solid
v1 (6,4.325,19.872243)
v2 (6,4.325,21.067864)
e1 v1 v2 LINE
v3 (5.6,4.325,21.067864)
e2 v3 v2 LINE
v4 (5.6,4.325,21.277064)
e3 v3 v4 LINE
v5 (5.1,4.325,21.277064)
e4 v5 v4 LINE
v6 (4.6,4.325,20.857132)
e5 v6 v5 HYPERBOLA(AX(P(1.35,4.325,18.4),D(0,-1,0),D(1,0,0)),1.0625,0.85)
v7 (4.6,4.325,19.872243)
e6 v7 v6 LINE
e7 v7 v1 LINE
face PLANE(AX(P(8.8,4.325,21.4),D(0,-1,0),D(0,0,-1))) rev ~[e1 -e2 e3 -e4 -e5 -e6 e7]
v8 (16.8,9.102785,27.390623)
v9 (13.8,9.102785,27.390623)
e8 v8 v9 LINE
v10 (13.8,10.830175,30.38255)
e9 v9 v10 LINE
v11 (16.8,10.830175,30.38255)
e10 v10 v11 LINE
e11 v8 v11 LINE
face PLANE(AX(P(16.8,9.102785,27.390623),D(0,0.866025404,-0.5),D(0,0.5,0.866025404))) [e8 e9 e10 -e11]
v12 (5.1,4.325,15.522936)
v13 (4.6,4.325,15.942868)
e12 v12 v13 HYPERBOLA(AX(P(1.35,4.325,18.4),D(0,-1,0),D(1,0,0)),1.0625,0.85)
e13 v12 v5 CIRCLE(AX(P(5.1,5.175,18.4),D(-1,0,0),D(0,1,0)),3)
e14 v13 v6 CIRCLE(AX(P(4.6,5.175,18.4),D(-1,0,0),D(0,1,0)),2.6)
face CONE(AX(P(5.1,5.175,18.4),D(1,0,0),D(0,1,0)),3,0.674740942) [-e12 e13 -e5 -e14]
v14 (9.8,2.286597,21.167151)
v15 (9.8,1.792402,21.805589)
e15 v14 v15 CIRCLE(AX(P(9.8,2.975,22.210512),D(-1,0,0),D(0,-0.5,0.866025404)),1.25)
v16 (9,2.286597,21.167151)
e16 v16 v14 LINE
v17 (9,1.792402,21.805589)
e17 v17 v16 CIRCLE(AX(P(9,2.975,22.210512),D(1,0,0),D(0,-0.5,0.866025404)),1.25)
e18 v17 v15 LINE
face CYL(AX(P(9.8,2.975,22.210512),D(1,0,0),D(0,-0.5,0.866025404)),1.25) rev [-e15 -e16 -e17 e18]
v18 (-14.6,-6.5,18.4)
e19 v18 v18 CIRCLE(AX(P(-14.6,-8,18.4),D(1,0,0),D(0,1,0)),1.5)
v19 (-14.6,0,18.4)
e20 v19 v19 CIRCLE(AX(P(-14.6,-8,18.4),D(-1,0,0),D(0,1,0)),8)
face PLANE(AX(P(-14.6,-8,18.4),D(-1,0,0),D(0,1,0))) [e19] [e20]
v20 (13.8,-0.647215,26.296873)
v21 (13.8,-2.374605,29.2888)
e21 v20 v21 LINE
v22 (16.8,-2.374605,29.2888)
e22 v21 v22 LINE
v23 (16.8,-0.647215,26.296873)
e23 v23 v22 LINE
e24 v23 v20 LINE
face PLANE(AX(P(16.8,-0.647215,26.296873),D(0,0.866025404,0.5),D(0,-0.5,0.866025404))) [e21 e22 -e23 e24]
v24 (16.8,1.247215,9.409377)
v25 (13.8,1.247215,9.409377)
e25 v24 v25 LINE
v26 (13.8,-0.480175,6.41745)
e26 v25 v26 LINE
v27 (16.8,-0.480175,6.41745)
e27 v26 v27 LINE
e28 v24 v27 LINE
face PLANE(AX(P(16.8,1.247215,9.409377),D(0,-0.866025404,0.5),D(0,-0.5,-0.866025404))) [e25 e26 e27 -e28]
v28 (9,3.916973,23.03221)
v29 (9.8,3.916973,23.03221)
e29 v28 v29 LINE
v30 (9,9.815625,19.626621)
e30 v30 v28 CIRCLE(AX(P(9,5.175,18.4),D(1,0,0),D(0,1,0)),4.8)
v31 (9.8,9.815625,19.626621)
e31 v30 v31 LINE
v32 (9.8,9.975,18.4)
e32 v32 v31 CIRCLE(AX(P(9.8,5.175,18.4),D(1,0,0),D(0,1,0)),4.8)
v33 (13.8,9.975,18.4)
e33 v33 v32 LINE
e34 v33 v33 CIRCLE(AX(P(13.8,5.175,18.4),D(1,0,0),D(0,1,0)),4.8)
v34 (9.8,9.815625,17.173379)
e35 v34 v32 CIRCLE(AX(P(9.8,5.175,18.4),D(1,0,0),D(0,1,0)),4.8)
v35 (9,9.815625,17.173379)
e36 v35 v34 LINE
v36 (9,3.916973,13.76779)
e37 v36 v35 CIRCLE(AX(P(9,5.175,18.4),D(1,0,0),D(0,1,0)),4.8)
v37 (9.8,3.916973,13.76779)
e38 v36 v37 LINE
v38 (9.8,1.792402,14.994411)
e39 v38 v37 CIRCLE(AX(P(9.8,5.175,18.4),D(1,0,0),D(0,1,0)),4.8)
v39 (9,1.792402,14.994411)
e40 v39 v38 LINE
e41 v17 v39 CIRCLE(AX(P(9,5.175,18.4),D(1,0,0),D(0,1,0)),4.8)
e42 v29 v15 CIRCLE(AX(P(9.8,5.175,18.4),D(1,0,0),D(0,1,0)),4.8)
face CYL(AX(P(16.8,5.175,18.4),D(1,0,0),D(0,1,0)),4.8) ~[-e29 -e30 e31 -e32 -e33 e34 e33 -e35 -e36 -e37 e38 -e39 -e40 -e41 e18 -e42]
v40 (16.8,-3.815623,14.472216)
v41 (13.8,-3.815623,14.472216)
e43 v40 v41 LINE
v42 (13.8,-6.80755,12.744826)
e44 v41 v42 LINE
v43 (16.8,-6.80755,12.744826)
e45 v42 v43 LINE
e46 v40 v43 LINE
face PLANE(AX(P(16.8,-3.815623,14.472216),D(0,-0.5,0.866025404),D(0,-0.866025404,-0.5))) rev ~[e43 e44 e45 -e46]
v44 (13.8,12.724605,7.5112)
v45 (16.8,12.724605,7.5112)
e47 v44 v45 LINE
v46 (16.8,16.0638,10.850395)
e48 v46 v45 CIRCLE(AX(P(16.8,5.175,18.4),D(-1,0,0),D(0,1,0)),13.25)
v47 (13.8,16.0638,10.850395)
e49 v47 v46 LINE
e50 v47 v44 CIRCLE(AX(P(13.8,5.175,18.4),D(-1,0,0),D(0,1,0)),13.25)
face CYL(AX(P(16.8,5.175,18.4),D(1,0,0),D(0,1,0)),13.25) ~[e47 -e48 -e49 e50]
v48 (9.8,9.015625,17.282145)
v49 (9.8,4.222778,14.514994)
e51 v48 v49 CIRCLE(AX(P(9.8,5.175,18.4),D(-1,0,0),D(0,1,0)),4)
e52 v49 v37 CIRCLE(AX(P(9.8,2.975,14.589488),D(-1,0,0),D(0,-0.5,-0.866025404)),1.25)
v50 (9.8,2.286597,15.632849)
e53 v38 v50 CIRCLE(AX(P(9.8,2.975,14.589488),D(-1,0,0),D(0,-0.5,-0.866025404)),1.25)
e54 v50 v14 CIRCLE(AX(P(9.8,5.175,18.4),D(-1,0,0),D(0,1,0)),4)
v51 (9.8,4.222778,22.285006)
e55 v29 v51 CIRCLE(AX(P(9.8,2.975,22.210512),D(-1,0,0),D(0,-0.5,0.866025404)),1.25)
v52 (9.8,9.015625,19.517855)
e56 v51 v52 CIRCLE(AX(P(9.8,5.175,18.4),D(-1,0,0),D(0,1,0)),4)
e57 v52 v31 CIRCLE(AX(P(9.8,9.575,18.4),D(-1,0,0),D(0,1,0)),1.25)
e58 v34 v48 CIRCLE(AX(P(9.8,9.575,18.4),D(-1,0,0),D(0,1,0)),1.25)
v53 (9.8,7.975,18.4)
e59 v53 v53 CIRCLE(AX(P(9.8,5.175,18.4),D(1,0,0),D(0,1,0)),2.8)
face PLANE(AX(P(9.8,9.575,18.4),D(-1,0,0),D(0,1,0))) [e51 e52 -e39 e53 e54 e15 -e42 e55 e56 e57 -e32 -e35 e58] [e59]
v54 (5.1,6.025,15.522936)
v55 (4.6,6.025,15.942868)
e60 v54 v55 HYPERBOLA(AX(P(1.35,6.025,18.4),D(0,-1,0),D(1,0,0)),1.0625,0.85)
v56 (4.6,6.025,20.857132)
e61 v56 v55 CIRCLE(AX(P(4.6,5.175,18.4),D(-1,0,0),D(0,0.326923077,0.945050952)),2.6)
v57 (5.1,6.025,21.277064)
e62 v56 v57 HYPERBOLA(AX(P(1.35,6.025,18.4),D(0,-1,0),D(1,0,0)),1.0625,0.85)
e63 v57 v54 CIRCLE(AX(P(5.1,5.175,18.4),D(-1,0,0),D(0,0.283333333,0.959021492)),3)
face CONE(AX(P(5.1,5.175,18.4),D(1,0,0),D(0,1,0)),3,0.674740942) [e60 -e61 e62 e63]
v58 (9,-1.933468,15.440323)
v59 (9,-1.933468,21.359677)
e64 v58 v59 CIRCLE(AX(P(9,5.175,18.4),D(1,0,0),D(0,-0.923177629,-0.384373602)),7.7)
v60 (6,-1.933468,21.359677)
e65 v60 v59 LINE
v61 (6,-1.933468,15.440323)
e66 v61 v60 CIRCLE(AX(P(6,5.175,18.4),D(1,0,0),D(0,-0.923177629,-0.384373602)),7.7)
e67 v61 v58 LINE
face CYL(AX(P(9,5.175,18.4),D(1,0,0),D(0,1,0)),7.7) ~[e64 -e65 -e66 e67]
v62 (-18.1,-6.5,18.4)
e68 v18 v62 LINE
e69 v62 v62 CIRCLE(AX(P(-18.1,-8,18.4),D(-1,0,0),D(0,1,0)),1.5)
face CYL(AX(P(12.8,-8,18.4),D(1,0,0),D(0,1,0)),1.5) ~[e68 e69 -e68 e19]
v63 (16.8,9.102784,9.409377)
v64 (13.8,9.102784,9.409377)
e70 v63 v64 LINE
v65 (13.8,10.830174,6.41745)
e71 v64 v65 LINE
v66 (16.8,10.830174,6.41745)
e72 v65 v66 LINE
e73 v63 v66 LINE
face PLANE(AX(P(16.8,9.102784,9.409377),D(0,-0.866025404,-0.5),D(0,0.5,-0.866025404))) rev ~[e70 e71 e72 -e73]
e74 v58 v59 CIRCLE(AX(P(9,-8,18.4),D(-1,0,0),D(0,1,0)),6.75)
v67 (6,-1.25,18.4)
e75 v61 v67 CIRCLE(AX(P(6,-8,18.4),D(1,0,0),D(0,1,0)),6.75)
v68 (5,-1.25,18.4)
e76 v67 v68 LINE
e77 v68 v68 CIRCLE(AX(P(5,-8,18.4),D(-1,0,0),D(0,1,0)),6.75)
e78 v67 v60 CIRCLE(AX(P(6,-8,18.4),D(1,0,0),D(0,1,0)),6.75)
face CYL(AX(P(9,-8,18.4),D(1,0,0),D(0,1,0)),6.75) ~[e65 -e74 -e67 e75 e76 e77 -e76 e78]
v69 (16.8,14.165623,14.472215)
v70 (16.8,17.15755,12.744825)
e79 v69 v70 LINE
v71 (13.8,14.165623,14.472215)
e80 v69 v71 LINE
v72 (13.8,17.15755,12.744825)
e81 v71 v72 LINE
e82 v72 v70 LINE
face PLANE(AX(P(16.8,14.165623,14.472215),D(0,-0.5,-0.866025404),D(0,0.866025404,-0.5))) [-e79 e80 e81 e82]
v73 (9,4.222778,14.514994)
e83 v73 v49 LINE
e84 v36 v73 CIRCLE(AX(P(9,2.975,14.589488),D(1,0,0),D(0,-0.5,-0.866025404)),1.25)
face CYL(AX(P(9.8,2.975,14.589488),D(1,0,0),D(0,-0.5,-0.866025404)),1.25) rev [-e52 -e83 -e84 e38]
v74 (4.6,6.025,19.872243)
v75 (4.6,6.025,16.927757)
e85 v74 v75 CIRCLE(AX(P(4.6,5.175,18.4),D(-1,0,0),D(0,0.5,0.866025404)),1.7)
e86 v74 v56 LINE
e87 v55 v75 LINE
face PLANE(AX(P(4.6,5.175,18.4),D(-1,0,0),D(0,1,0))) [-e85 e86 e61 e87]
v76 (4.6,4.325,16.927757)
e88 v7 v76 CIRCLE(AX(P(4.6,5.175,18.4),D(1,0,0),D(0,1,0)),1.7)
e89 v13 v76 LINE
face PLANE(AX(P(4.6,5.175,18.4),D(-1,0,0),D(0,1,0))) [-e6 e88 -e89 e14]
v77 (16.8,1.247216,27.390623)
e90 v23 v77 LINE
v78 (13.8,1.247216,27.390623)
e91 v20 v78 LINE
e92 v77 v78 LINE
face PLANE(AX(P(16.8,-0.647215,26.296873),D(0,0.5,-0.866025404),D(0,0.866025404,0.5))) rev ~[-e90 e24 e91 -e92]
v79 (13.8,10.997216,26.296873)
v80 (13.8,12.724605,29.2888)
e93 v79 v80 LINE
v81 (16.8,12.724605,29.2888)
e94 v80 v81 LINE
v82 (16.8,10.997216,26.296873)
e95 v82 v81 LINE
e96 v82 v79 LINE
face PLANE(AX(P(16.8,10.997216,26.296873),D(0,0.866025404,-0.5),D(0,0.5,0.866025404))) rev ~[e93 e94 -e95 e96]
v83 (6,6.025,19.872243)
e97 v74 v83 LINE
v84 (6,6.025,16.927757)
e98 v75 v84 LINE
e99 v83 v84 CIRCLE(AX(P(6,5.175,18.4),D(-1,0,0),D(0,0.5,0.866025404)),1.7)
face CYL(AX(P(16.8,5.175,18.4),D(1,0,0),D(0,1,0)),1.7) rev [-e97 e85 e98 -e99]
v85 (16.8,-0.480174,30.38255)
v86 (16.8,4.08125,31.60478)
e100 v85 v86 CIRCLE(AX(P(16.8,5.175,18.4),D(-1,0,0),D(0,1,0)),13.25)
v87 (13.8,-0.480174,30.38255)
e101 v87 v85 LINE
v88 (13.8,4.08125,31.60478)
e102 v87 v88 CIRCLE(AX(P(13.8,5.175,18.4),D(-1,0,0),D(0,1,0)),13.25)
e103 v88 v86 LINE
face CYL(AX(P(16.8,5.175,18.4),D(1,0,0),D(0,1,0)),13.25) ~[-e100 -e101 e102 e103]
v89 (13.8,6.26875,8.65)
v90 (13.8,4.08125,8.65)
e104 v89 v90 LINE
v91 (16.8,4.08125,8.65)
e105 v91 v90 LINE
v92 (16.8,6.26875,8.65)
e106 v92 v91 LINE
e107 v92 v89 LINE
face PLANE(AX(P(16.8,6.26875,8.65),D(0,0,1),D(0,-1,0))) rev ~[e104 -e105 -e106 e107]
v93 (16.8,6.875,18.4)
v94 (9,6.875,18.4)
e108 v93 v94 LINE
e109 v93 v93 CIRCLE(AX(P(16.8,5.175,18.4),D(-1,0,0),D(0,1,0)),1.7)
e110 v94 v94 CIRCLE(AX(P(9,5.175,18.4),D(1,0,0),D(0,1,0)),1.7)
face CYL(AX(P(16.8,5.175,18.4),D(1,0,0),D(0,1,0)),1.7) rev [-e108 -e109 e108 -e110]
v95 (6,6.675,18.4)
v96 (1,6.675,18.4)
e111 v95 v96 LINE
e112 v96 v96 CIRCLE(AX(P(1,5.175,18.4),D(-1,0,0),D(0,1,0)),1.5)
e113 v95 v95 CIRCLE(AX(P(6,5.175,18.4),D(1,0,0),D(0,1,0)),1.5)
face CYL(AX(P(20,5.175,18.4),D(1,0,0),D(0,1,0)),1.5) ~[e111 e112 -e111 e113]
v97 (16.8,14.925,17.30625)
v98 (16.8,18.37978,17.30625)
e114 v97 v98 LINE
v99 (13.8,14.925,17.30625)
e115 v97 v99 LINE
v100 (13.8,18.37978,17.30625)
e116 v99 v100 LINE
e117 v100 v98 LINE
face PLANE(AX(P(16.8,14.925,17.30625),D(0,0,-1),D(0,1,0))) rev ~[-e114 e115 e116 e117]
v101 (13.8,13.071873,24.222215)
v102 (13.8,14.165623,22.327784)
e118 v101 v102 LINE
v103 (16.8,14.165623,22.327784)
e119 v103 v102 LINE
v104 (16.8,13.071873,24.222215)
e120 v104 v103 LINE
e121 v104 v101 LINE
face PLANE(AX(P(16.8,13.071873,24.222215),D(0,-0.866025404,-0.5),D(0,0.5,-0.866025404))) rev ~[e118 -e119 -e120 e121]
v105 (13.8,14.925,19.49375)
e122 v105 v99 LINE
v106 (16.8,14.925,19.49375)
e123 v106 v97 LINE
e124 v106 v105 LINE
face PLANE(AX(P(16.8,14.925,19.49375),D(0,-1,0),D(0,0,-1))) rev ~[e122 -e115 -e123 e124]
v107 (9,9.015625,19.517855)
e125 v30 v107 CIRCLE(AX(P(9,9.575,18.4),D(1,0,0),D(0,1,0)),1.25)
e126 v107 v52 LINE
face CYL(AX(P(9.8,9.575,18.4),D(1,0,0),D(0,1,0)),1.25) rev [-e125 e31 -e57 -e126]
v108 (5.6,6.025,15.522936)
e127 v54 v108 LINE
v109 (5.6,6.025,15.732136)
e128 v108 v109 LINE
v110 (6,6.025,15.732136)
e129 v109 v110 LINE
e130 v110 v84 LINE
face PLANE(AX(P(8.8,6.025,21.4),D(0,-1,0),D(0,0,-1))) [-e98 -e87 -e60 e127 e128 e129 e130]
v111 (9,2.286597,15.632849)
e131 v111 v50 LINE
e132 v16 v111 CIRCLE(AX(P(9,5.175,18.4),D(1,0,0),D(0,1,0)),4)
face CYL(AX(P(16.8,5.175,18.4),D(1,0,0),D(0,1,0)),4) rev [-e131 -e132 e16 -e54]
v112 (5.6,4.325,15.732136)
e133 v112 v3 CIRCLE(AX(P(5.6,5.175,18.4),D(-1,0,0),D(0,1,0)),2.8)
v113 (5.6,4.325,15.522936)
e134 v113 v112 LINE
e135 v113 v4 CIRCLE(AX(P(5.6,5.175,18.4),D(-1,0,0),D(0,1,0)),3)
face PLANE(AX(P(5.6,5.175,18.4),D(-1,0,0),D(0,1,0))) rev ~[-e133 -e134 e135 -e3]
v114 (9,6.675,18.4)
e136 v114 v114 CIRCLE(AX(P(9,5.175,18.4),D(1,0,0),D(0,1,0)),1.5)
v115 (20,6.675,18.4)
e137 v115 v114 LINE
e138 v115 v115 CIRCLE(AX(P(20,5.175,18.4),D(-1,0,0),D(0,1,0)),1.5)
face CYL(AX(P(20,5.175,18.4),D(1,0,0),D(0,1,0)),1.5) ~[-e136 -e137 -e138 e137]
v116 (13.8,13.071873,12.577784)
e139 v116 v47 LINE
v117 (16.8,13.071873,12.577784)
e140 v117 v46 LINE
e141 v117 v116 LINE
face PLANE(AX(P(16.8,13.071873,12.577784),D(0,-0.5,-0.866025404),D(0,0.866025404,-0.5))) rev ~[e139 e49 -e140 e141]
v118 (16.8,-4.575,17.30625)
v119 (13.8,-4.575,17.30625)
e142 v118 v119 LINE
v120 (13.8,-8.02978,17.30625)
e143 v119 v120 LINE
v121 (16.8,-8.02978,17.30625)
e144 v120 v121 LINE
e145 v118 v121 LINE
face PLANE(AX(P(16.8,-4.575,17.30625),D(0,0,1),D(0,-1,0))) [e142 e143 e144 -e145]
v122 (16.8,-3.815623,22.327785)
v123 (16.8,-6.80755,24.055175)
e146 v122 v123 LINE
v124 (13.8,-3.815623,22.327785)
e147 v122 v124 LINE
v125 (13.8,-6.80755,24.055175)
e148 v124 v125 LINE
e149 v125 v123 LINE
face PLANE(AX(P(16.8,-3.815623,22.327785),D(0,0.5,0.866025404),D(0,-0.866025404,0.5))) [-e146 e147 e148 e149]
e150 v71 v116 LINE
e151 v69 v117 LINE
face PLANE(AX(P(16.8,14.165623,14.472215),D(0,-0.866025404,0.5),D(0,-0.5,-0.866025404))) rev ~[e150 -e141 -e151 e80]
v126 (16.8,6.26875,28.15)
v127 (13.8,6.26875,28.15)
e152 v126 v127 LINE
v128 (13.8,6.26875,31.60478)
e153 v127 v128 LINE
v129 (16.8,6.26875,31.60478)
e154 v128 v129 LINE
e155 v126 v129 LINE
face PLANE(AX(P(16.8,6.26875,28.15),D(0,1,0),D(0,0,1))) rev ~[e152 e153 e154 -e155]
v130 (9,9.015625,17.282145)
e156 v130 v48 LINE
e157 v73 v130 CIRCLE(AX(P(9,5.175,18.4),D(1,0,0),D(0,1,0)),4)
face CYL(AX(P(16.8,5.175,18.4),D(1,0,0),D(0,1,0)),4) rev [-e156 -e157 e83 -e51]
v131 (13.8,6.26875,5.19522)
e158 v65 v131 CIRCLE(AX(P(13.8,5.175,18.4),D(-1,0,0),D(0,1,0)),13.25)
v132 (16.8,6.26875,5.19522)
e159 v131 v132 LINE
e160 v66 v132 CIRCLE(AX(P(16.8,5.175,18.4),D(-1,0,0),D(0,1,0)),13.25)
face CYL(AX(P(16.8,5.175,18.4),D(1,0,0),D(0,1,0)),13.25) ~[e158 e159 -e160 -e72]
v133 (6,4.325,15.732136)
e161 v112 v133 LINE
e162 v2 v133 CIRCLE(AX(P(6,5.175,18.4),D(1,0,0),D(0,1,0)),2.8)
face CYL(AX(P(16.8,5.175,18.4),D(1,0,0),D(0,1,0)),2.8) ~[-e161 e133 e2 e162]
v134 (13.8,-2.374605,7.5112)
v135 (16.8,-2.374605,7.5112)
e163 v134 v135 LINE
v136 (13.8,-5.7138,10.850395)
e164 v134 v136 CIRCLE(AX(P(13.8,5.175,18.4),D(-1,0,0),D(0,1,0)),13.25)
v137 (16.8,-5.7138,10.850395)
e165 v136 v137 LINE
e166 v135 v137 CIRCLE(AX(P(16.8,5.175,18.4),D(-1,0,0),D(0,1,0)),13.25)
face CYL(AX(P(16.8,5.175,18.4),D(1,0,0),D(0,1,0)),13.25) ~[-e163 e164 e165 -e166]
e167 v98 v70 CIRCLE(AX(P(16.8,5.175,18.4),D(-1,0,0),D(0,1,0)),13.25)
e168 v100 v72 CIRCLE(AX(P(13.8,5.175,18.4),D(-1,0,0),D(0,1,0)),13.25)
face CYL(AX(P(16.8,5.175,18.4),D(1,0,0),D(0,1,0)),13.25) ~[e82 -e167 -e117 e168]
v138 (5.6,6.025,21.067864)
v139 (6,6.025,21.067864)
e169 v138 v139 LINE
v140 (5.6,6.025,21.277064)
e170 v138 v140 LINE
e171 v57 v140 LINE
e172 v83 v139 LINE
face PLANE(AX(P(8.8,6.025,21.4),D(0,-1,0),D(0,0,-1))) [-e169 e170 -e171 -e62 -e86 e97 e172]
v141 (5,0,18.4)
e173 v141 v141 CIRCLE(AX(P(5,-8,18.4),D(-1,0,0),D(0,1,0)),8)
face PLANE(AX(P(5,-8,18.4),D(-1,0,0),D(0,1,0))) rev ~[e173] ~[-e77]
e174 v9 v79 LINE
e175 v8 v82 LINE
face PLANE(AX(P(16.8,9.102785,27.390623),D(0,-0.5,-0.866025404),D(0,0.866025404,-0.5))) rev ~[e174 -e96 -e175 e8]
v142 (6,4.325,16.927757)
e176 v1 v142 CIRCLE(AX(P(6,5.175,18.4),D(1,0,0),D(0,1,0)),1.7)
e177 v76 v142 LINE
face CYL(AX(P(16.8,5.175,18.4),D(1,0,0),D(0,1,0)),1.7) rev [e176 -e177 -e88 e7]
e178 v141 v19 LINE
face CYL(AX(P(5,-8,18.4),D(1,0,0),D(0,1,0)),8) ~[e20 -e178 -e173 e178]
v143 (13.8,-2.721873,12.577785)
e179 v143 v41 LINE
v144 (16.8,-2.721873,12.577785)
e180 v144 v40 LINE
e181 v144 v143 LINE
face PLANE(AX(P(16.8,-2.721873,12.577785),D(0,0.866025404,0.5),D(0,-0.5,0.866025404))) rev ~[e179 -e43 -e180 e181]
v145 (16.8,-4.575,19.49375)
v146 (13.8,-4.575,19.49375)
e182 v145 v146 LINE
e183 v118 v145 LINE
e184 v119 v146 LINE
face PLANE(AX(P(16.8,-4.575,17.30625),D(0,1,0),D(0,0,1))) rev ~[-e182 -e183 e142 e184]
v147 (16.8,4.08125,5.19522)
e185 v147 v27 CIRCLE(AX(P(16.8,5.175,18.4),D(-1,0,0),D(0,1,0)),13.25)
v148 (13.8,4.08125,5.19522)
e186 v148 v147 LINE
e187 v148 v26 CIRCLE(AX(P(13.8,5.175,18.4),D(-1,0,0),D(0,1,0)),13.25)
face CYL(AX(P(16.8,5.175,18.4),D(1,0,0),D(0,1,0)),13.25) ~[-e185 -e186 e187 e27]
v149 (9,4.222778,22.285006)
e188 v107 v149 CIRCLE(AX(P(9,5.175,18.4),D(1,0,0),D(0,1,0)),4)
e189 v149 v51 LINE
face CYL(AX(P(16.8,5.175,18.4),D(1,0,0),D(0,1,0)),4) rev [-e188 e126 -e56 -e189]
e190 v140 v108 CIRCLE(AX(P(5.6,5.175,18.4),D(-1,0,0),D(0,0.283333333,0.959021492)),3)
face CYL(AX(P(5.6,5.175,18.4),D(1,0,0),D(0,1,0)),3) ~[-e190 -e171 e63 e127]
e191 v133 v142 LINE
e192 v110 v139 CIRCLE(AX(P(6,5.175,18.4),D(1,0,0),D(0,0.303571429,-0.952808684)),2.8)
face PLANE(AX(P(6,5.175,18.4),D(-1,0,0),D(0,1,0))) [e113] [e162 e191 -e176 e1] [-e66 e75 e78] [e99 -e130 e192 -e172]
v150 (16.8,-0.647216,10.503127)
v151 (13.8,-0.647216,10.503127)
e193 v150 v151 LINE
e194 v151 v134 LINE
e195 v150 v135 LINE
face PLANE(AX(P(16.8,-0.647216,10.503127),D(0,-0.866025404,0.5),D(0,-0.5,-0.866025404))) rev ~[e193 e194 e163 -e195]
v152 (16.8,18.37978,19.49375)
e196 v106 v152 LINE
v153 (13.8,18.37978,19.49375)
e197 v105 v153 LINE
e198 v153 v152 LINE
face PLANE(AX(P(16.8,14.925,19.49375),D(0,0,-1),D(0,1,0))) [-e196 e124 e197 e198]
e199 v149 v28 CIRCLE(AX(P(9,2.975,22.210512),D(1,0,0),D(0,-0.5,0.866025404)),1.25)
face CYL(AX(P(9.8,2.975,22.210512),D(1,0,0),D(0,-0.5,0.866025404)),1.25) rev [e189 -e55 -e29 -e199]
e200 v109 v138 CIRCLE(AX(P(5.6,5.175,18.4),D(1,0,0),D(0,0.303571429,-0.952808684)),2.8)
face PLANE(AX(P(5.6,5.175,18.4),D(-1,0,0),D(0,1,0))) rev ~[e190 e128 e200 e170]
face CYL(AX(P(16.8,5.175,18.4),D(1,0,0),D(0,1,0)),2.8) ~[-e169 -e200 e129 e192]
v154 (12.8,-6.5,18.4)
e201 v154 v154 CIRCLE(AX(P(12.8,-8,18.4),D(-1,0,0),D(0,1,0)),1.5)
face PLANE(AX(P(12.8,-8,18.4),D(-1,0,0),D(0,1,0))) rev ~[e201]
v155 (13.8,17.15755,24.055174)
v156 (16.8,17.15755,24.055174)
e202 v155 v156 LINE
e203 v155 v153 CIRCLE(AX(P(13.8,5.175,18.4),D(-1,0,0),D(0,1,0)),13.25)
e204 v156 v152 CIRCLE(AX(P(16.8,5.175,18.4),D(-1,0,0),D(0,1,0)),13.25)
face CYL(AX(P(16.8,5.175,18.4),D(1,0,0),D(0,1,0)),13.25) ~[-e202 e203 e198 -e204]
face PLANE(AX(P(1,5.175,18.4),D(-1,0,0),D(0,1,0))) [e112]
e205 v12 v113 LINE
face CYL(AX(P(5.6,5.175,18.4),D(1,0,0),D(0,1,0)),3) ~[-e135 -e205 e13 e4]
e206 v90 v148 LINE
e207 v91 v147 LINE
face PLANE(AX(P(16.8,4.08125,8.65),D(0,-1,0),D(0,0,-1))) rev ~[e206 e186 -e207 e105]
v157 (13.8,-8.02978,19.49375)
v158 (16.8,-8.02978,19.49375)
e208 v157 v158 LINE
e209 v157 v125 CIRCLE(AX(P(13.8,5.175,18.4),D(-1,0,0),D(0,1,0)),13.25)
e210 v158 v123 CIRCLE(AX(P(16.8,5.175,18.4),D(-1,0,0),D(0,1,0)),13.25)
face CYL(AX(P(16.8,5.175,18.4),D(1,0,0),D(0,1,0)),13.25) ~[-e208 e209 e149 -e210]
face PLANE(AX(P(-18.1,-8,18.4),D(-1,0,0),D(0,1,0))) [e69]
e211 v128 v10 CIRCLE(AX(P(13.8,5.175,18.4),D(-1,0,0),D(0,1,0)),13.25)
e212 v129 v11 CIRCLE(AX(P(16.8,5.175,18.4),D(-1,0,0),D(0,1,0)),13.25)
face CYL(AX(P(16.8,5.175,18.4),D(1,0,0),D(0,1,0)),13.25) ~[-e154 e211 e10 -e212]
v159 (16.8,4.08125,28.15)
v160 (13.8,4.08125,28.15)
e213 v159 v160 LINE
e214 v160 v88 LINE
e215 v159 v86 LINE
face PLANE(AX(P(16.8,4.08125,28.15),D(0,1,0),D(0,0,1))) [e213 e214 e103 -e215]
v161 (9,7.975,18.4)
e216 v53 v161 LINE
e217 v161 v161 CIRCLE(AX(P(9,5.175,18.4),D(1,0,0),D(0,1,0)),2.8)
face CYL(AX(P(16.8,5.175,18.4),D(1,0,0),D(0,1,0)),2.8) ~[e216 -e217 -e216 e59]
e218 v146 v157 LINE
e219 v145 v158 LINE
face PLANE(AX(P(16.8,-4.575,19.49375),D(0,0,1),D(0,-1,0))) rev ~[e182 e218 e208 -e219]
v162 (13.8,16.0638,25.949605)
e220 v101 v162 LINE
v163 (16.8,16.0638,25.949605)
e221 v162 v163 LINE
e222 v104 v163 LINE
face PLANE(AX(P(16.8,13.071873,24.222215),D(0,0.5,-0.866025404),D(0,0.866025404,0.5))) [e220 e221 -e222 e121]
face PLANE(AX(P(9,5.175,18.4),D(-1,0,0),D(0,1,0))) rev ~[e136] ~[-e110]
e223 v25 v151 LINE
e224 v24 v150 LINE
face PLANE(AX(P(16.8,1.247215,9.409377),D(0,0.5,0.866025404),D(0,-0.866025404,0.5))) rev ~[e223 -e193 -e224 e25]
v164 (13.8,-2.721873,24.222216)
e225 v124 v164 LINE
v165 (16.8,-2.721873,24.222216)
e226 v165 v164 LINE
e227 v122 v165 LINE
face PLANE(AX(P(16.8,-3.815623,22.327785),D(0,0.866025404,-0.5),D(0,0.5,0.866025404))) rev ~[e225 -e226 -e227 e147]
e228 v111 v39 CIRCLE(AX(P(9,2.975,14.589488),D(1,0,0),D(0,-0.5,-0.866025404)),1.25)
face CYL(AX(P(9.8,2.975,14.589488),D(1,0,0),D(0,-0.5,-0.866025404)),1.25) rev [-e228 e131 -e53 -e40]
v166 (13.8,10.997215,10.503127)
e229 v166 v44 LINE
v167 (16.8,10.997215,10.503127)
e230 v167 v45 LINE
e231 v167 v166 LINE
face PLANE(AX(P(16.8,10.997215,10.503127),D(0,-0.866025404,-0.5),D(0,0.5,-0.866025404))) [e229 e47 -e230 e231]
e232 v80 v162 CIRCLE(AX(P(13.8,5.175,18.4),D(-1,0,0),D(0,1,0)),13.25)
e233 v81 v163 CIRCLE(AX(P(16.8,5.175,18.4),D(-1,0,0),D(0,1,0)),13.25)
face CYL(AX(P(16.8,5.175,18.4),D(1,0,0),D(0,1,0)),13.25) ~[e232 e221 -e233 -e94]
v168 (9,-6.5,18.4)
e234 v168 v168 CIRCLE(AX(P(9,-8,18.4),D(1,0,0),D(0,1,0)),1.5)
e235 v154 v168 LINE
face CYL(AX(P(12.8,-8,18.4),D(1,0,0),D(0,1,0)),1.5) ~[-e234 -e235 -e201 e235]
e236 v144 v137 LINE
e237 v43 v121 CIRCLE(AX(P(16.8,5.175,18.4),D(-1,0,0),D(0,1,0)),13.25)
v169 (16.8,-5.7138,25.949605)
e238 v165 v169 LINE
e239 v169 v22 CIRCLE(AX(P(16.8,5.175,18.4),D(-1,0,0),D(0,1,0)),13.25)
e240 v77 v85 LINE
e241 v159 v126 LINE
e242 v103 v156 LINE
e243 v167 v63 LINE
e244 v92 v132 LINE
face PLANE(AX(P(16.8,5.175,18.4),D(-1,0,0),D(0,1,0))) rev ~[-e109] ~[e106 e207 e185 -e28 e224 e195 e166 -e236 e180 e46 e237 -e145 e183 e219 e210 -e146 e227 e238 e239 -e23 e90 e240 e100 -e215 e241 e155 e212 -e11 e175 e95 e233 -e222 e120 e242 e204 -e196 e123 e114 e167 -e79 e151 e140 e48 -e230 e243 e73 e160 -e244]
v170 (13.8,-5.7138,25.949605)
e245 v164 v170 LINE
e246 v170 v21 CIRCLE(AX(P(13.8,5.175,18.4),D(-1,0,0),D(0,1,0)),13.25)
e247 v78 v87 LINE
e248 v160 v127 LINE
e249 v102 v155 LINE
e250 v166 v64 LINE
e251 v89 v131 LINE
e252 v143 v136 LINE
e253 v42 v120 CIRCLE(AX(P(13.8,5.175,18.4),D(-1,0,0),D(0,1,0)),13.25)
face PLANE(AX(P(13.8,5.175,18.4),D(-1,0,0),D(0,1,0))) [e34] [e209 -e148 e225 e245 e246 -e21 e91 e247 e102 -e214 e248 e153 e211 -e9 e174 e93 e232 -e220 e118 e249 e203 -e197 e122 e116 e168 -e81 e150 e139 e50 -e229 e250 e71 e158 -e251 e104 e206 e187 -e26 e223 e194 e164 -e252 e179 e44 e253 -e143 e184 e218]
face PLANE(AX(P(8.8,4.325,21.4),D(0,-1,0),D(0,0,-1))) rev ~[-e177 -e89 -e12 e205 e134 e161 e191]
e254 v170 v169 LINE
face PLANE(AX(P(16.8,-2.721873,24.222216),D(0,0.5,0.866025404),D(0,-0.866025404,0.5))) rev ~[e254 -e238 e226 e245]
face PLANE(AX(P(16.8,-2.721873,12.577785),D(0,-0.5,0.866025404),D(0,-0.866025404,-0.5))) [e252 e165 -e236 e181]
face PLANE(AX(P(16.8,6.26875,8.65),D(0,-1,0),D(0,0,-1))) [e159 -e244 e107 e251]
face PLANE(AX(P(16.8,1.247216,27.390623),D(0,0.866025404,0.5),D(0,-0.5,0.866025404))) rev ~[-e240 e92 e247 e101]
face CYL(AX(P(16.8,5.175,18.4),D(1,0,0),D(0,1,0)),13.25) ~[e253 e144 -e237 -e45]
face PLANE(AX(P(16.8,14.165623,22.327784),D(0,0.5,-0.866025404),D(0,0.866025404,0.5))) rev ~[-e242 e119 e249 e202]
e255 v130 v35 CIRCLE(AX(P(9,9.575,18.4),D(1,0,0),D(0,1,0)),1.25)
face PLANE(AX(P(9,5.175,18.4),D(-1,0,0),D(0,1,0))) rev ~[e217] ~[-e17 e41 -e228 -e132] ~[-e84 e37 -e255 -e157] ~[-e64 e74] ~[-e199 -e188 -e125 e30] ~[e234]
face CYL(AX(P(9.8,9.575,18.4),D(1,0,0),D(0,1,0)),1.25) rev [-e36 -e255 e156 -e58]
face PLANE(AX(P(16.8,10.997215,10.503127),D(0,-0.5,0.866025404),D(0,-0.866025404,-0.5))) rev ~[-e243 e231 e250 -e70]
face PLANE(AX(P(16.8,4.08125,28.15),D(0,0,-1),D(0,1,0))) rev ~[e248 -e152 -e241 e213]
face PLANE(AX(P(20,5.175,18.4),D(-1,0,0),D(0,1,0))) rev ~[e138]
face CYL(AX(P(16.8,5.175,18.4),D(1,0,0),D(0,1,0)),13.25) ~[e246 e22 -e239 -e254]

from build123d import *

# Parameters (mm, degrees)
CYLINDER005_R               = 1.5
CYLINDER005_DEPTH           = 30.9
CYLINDER006_R               = 8
CYLINDER006_DEPTH           = 19.6
CUBE008_W                   = 1.7
CUBE008_H                   = 6
CUBE008_DEPTH               = 8
CYLINDER016_R               = 1.25
CYLINDER016_DEPTH           = 1
CYLINDER017_R               = 1.25
CYLINDER017_DEPTH           = 1
CYLINDER017_PLACEMENT_ANGLE = 120
CYLINDER018_R               = 1.25
CYLINDER018_DEPTH           = 1
CYLINDER018_PLACEMENT_ANGLE = 240
CUBE010_W                   = 7
CUBE010_H                   = 2.1875
CUBE010_DEPTH               = 3
CUBE010_PLACEMENT_ANGLE     = 30
CUBE011_W                   = 7
CUBE011_H                   = 2.1875
CUBE011_DEPTH               = 3
CUBE011_PLACEMENT_ANGLE     = 60
CUBE012_W                   = 7
CUBE012_H                   = 2.1875
CUBE012_DEPTH               = 3
CUBE013_W                   = 7
CUBE013_H                   = 2.1875
CUBE013_DEPTH               = 3
CUBE013_PLACEMENT_ANGLE     = 120
CUBE014_W                   = 7
CUBE014_H                   = 2.1875
CUBE014_DEPTH               = 3
CUBE014_PLACEMENT_ANGLE     = 150
CUBE015_W                   = 7
CUBE015_H                   = 2.1875
CUBE015_DEPTH               = 3
CUBE016_W                   = 7
CUBE016_H                   = 2.1875
CUBE016_DEPTH               = 3
CUBE016_PLACEMENT_ANGLE     = 210
CUBE017_W                   = 7
CUBE017_H                   = 2.1875
CUBE017_DEPTH               = 3
CUBE017_PLACEMENT_ANGLE     = 240
CUBE018_W                   = 7
CUBE018_H                   = 2.1875
CUBE018_DEPTH               = 3
CUBE019_W                   = 7
CUBE019_H                   = 2.1875
CUBE019_DEPTH               = 3
CUBE019_PLACEMENT_ANGLE     = 60
CUBE020_W                   = 7
CUBE020_H                   = 2.1875
CUBE020_DEPTH               = 3
CUBE020_PLACEMENT_ANGLE     = 30
CUBE021_W                   = 7
CUBE021_H                   = 2.1875
CUBE021_DEPTH               = 3
CUBE009_W                   = 7
CUBE009_H                   = 2.1875
CUBE009_DEPTH               = 3
CYLINDER015_R               = 1.7
CYLINDER015_DEPTH           = 22.4
CYLINDER009_R               = 3
CYLINDER009_DEPTH           = 0.5
CYLINDER010_R               = 2.8
CYLINDER010_DEPTH           = 11.2
CYLINDER011_R               = 4
CYLINDER011_DEPTH           = 7
CYLINDER013_R               = 4
CYLINDER013_DEPTH           = 8
CYLINDER012_R               = 4.8
CYLINDER012_DEPTH           = 8
CYLINDER014_R               = 13.25
CYLINDER014_DEPTH           = 3
CYLINDER019_R               = 1.5
CYLINDER019_DEPTH           = 19
CYLINDER007_R               = 7.7
CYLINDER007_DEPTH           = 3
CYLINDER004_R               = 6.75
CYLINDER004_DEPTH           = 4
GROUP004_ROLL_ANGLE         = -90
GROUP004_PLACEMENT_ANGLE    = 90


with BuildPart() as cylinder005:
    # cylinder005 → cylinder005 (new body)
    with BuildSketch(Plane.XY.offset(-3.8)):
        Circle(CYLINDER005_R)
    extrude(amount=CYLINDER005_DEPTH)


with BuildPart() as cylinder006:
    # cylinder006 → cylinder006 (new body)
    with BuildSketch(Plane.XY.offset(4)):
        Circle(CYLINDER006_R)
    extrude(amount=CYLINDER006_DEPTH)


with BuildPart() as cube008:
    # cube008 → cube008 (new body)
    with BuildSketch(Plane(origin=(-0.85, -3, 8), x_dir=(1, 0, 0), z_dir=(0, 0, 1))):
        with Locations((0.85, 3)):
            Rectangle(CUBE008_W, CUBE008_H)
    extrude(amount=CUBE008_DEPTH)


with BuildPart() as cylinder016:
    # cylinder016 → cylinder016 (new body)
    with BuildSketch(Plane(origin=(4.4, 0, 7), x_dir=(1, 0, 0), z_dir=(0, 0, 1))):
        Circle(CYLINDER016_R)
    extrude(amount=CYLINDER016_DEPTH)


with BuildPart() as cylinder017:
    # cylinder017 → cylinder017 (new body)
    with BuildSketch(Plane.XY):
        Circle(CYLINDER017_R)
    extrude(amount=CYLINDER017_DEPTH)


with BuildPart() as cylinder017_1:
    # cylinder017 placement: moved
    add(cylinder017.part.moved(Location((-2.2, 3.810512, 7))).rotate(Axis((-2.2, 3.810512, 7), (0, 0, 1)), CYLINDER017_PLACEMENT_ANGLE))


with BuildPart() as cylinder018:
    # cylinder018 → cylinder018 (new body)
    with BuildSketch(Plane.XY):
        Circle(CYLINDER018_R)
    extrude(amount=CYLINDER018_DEPTH)


with BuildPart() as cylinder018_1:
    # cylinder018 placement: moved
    add(cylinder018.part.moved(Location((-2.2, -3.810512, 7))).rotate(Axis((-2.2, -3.810512, 7), (0, 0, 1)), CYLINDER018_PLACEMENT_ANGLE))


with BuildPart() as cube010:
    # cube010 → cube010 (new body)
    with BuildSketch(Plane.XY):
        with Locations((3.5, 1.09375)):
            Rectangle(CUBE010_W, CUBE010_H)
    extrude(amount=CUBE010_DEPTH)


with BuildPart() as cube010_1:
    # cube010 placement: moved
    add(cube010.part.moved(Location((8.990623, 3.927785, 0))).rotate(Axis((8.990623, 3.927785, 0), (0, 0, 1)), CUBE010_PLACEMENT_ANGLE))


with BuildPart() as cube011:
    # cube011 → cube011 (new body)
    with BuildSketch(Plane.XY):
        with Locations((3.5, 1.09375)):
            Rectangle(CUBE011_W, CUBE011_H)
    extrude(amount=CUBE011_DEPTH)


with BuildPart() as cube011_1:
    # cube011 placement: moved
    add(cube011.part.moved(Location((5.822215, 7.896873, 0))).rotate(Axis((5.822215, 7.896873, 0), (0, 0, 1)), CUBE011_PLACEMENT_ANGLE))


with BuildPart() as cube012:
    # cube012 → cube012 (new body)
    with BuildSketch(Plane(origin=(1.09375, 9.75, 0), x_dir=(0, 1, 0), z_dir=(0, 0, 1))):
        with Locations((3.5, 1.09375)):
            Rectangle(CUBE012_W, CUBE012_H)
    extrude(amount=CUBE012_DEPTH)


with BuildPart() as cube013:
    # cube013 → cube013 (new body)
    with BuildSketch(Plane.XY):
        with Locations((3.5, 1.09375)):
            Rectangle(CUBE013_W, CUBE013_H)
    extrude(amount=CUBE013_DEPTH)


with BuildPart() as cube013_1:
    # cube013 placement: moved
    add(cube013.part.moved(Location((-3.927785, 8.990623, 0))).rotate(Axis((-3.927785, 8.990623, 0), (0, 0, 1)), CUBE013_PLACEMENT_ANGLE))


with BuildPart() as cube014:
    # cube014 → cube014 (new body)
    with BuildSketch(Plane.XY):
        with Locations((3.5, 1.09375)):
            Rectangle(CUBE014_W, CUBE014_H)
    extrude(amount=CUBE014_DEPTH)


with BuildPart() as cube014_1:
    # cube014 placement: moved
    add(cube014.part.moved(Location((-7.896873, 5.822215, 0))).rotate(Axis((-7.896873, 5.822215, 0), (0, 0, 1)), CUBE014_PLACEMENT_ANGLE))


with BuildPart() as cube015:
    # cube015 → cube015 (new body)
    with BuildSketch(Plane(origin=(-9.75, 1.09375, 0), x_dir=(-1, 0, 0), z_dir=(0, 0, 1))):
        with Locations((3.5, 1.09375)):
            Rectangle(CUBE015_W, CUBE015_H)
    extrude(amount=CUBE015_DEPTH)


with BuildPart() as cube016:
    # cube016 → cube016 (new body)
    with BuildSketch(Plane.XY):
        with Locations((3.5, 1.09375)):
            Rectangle(CUBE016_W, CUBE016_H)
    extrude(amount=CUBE016_DEPTH)


with BuildPart() as cube016_1:
    # cube016 placement: moved
    add(cube016.part.moved(Location((-8.990623, -3.927785, 0))).rotate(Axis((-8.990623, -3.927785, 0), (0, 0, 1)), CUBE016_PLACEMENT_ANGLE))


with BuildPart() as cube017:
    # cube017 → cube017 (new body)
    with BuildSketch(Plane.XY):
        with Locations((3.5, 1.09375)):
            Rectangle(CUBE017_W, CUBE017_H)
    extrude(amount=CUBE017_DEPTH)


with BuildPart() as cube017_1:
    # cube017 placement: moved
    add(cube017.part.moved(Location((-5.822215, -7.896873, 0))).rotate(Axis((-5.822215, -7.896873, 0), (0, 0, 1)), CUBE017_PLACEMENT_ANGLE))


with BuildPart() as cube018:
    # cube018 → cube018 (new body)
    with BuildSketch(Plane(origin=(-1.09375, -9.75, 0), x_dir=(0, -1, 0), z_dir=(0, 0, 1))):
        with Locations((3.5, 1.09375)):
            Rectangle(CUBE018_W, CUBE018_H)
    extrude(amount=CUBE018_DEPTH)


with BuildPart() as cube019:
    # cube019 → cube019 (new body)
    with BuildSketch(Plane.XY):
        with Locations((3.5, 1.09375)):
            Rectangle(CUBE019_W, CUBE019_H)
    extrude(amount=CUBE019_DEPTH)


with BuildPart() as cube019_1:
    # cube019 placement: moved
    add(cube019.part.moved(Location((3.927785, -8.990623, 0))).rotate(Axis((3.927785, -8.990623, 0), (0, 0, -1)), CUBE019_PLACEMENT_ANGLE))


with BuildPart() as cube020:
    # cube020 → cube020 (new body)
    with BuildSketch(Plane.XY):
        with Locations((3.5, 1.09375)):
            Rectangle(CUBE020_W, CUBE020_H)
    extrude(amount=CUBE020_DEPTH)


with BuildPart() as cube020_1:
    # cube020 placement: moved
    add(cube020.part.moved(Location((7.896873, -5.822215, 0))).rotate(Axis((7.896873, -5.822215, 0), (0, 0, -1)), CUBE020_PLACEMENT_ANGLE))


with BuildPart() as cube021:
    # cube021 → cube021 (new body)
    with BuildSketch(Plane(origin=(9.75, -1.09375, 0), x_dir=(1, 0, 0), z_dir=(0, 0, 1))):
        with Locations((3.5, 1.09375)):
            Rectangle(CUBE021_W, CUBE021_H)
    extrude(amount=CUBE021_DEPTH)


with BuildPart() as group003:
    # cube009 → cube009 (new body)
    with BuildSketch(Plane(origin=(9.75, -1.09375, 0), x_dir=(1, 0, 0), z_dir=(0, 0, 1))):
        with Locations((3.5, 1.09375)):
            Rectangle(CUBE009_W, CUBE009_H)
    extrude(amount=CUBE009_DEPTH)

    # Group003: union cube010, cube011, cube012, cube013, cube014, cube015, cube016, cube017, cube018, cube019, cube020, cube021
    add(cube010_1.part)
    add(cube011_1.part)
    add(cube012.part)
    add(cube013_1.part)
    add(cube014_1.part)
    add(cube015.part)
    add(cube016_1.part)
    add(cube017_1.part)
    add(cube018.part)
    add(cube019_1.part)
    add(cube020_1.part)
    add(cube021.part)


with BuildPart() as union002:
    # cylinder015 → cylinder015 (new body)
    with BuildSketch(Plane.XY):
        Circle(CYLINDER015_R)
    extrude(amount=CYLINDER015_DEPTH)

    # union002: union cube008, cylinder016, cylinder017, cylinder018, Group003
    add(cube008.part)
    add(cylinder016.part)
    add(cylinder017_1.part)
    add(cylinder018_1.part)
    add(group003.part)


with BuildPart() as cylinder009:
    # cylinder009 → cylinder009 (new body)
    with BuildSketch(Plane.XY.offset(11.2)):
        Circle(CYLINDER009_R)
    extrude(amount=CYLINDER009_DEPTH)


with BuildPart() as cylinder010:
    # cylinder010 → cylinder010 (new body)
    with BuildSketch(Plane.XY):
        Circle(CYLINDER010_R)
    extrude(amount=CYLINDER010_DEPTH)


with BuildPart() as cylinder011:
    # cylinder011 → cylinder011 (new body)
    with BuildSketch(Plane.XY):
        Circle(CYLINDER011_R)
    extrude(amount=CYLINDER011_DEPTH)


with BuildPart() as cylinder013:
    # cylinder013 → cylinder013 (new body)
    with BuildSketch(Plane.XY):
        Circle(CYLINDER013_R)
    extrude(amount=CYLINDER013_DEPTH)


with BuildPart() as difference001:
    # cylinder012 → cylinder012 (new body)
    with BuildSketch(Plane.XY):
        Circle(CYLINDER012_R)
    extrude(amount=CYLINDER012_DEPTH)

    # difference001: cut cylinder013
    add(cylinder013.part, mode=Mode.SUBTRACT)


with BuildPart() as cylinder014:
    # cylinder014 → cylinder014 (new body)
    with BuildSketch(Plane.XY):
        Circle(CYLINDER014_R)
    extrude(amount=CYLINDER014_DEPTH)


with BuildPart() as difference002:
    # cylinder008 → cylinder008 (revolve)
    with BuildSketch(Plane(origin=(0, 0, 11.7), x_dir=(1, 0, 0), z_dir=(0, -1, 0))):
        Polygon((0, 0), (3, 0), (2.6, 0.5), (0, 0.5), align=None)
    revolve(axis=Axis((0, 0, 11.7), (0, 0, 1)))

    # union001: union cylinder009, cylinder010, cylinder011, difference001, cylinder014
    add(cylinder009.part)
    add(cylinder010.part)
    add(cylinder011.part)
    add(difference001.part)
    add(cylinder014.part)

    # difference002: cut union002
    add(union002.part, mode=Mode.SUBTRACT)


with BuildPart() as difference002_1:
    # difference002 placement: moved
    add(difference002.part.moved(Location((0, 0, -7.8))))


with BuildPart() as cylinder019:
    # cylinder019 → cylinder019 (new body)
    with BuildSketch(Plane.XY.offset(-11)):
        Circle(CYLINDER019_R)
    extrude(amount=CYLINDER019_DEPTH)


with BuildPart() as matrix_union:
    # cylinder007 → cylinder007 (new body)
    with BuildSketch(Plane.XY):
        Circle(CYLINDER007_R)
    extrude(amount=CYLINDER007_DEPTH)

    # Matrix_Union: union difference002, cylinder019
    add(difference002_1.part)
    add(cylinder019.part)


with BuildPart() as matrix_union_1:
    # Matrix_Union placement: moved
    add(matrix_union.part.moved(Location((13.175, 0, 0))))


with BuildPart() as gearset:
    # cylinder004 → cylinder004 (new body)
    with BuildSketch(Plane.XY):
        Circle(CYLINDER004_R)
    extrude(amount=CYLINDER004_DEPTH)

    # Group004: union cylinder005, cylinder006, Matrix_Union
    add(cylinder005.part)
    add(cylinder006.part)
    add(matrix_union_1.part)


with BuildPart() as gearset_1:
    # Group004 roll: moved
    add(gearset.part.rotate(Axis((0, 0, 0), (1, 0, 0)), GROUP004_ROLL_ANGLE))


with BuildPart() as gearset_2:
    # Group004 placement: moved
    add(gearset_1.part.moved(Location((9, -8, 18.4))).rotate(Axis((9, -8, 18.4), (0, 0, 1)), GROUP004_PLACEMENT_ANGLE))


solid = gearset_2.part
